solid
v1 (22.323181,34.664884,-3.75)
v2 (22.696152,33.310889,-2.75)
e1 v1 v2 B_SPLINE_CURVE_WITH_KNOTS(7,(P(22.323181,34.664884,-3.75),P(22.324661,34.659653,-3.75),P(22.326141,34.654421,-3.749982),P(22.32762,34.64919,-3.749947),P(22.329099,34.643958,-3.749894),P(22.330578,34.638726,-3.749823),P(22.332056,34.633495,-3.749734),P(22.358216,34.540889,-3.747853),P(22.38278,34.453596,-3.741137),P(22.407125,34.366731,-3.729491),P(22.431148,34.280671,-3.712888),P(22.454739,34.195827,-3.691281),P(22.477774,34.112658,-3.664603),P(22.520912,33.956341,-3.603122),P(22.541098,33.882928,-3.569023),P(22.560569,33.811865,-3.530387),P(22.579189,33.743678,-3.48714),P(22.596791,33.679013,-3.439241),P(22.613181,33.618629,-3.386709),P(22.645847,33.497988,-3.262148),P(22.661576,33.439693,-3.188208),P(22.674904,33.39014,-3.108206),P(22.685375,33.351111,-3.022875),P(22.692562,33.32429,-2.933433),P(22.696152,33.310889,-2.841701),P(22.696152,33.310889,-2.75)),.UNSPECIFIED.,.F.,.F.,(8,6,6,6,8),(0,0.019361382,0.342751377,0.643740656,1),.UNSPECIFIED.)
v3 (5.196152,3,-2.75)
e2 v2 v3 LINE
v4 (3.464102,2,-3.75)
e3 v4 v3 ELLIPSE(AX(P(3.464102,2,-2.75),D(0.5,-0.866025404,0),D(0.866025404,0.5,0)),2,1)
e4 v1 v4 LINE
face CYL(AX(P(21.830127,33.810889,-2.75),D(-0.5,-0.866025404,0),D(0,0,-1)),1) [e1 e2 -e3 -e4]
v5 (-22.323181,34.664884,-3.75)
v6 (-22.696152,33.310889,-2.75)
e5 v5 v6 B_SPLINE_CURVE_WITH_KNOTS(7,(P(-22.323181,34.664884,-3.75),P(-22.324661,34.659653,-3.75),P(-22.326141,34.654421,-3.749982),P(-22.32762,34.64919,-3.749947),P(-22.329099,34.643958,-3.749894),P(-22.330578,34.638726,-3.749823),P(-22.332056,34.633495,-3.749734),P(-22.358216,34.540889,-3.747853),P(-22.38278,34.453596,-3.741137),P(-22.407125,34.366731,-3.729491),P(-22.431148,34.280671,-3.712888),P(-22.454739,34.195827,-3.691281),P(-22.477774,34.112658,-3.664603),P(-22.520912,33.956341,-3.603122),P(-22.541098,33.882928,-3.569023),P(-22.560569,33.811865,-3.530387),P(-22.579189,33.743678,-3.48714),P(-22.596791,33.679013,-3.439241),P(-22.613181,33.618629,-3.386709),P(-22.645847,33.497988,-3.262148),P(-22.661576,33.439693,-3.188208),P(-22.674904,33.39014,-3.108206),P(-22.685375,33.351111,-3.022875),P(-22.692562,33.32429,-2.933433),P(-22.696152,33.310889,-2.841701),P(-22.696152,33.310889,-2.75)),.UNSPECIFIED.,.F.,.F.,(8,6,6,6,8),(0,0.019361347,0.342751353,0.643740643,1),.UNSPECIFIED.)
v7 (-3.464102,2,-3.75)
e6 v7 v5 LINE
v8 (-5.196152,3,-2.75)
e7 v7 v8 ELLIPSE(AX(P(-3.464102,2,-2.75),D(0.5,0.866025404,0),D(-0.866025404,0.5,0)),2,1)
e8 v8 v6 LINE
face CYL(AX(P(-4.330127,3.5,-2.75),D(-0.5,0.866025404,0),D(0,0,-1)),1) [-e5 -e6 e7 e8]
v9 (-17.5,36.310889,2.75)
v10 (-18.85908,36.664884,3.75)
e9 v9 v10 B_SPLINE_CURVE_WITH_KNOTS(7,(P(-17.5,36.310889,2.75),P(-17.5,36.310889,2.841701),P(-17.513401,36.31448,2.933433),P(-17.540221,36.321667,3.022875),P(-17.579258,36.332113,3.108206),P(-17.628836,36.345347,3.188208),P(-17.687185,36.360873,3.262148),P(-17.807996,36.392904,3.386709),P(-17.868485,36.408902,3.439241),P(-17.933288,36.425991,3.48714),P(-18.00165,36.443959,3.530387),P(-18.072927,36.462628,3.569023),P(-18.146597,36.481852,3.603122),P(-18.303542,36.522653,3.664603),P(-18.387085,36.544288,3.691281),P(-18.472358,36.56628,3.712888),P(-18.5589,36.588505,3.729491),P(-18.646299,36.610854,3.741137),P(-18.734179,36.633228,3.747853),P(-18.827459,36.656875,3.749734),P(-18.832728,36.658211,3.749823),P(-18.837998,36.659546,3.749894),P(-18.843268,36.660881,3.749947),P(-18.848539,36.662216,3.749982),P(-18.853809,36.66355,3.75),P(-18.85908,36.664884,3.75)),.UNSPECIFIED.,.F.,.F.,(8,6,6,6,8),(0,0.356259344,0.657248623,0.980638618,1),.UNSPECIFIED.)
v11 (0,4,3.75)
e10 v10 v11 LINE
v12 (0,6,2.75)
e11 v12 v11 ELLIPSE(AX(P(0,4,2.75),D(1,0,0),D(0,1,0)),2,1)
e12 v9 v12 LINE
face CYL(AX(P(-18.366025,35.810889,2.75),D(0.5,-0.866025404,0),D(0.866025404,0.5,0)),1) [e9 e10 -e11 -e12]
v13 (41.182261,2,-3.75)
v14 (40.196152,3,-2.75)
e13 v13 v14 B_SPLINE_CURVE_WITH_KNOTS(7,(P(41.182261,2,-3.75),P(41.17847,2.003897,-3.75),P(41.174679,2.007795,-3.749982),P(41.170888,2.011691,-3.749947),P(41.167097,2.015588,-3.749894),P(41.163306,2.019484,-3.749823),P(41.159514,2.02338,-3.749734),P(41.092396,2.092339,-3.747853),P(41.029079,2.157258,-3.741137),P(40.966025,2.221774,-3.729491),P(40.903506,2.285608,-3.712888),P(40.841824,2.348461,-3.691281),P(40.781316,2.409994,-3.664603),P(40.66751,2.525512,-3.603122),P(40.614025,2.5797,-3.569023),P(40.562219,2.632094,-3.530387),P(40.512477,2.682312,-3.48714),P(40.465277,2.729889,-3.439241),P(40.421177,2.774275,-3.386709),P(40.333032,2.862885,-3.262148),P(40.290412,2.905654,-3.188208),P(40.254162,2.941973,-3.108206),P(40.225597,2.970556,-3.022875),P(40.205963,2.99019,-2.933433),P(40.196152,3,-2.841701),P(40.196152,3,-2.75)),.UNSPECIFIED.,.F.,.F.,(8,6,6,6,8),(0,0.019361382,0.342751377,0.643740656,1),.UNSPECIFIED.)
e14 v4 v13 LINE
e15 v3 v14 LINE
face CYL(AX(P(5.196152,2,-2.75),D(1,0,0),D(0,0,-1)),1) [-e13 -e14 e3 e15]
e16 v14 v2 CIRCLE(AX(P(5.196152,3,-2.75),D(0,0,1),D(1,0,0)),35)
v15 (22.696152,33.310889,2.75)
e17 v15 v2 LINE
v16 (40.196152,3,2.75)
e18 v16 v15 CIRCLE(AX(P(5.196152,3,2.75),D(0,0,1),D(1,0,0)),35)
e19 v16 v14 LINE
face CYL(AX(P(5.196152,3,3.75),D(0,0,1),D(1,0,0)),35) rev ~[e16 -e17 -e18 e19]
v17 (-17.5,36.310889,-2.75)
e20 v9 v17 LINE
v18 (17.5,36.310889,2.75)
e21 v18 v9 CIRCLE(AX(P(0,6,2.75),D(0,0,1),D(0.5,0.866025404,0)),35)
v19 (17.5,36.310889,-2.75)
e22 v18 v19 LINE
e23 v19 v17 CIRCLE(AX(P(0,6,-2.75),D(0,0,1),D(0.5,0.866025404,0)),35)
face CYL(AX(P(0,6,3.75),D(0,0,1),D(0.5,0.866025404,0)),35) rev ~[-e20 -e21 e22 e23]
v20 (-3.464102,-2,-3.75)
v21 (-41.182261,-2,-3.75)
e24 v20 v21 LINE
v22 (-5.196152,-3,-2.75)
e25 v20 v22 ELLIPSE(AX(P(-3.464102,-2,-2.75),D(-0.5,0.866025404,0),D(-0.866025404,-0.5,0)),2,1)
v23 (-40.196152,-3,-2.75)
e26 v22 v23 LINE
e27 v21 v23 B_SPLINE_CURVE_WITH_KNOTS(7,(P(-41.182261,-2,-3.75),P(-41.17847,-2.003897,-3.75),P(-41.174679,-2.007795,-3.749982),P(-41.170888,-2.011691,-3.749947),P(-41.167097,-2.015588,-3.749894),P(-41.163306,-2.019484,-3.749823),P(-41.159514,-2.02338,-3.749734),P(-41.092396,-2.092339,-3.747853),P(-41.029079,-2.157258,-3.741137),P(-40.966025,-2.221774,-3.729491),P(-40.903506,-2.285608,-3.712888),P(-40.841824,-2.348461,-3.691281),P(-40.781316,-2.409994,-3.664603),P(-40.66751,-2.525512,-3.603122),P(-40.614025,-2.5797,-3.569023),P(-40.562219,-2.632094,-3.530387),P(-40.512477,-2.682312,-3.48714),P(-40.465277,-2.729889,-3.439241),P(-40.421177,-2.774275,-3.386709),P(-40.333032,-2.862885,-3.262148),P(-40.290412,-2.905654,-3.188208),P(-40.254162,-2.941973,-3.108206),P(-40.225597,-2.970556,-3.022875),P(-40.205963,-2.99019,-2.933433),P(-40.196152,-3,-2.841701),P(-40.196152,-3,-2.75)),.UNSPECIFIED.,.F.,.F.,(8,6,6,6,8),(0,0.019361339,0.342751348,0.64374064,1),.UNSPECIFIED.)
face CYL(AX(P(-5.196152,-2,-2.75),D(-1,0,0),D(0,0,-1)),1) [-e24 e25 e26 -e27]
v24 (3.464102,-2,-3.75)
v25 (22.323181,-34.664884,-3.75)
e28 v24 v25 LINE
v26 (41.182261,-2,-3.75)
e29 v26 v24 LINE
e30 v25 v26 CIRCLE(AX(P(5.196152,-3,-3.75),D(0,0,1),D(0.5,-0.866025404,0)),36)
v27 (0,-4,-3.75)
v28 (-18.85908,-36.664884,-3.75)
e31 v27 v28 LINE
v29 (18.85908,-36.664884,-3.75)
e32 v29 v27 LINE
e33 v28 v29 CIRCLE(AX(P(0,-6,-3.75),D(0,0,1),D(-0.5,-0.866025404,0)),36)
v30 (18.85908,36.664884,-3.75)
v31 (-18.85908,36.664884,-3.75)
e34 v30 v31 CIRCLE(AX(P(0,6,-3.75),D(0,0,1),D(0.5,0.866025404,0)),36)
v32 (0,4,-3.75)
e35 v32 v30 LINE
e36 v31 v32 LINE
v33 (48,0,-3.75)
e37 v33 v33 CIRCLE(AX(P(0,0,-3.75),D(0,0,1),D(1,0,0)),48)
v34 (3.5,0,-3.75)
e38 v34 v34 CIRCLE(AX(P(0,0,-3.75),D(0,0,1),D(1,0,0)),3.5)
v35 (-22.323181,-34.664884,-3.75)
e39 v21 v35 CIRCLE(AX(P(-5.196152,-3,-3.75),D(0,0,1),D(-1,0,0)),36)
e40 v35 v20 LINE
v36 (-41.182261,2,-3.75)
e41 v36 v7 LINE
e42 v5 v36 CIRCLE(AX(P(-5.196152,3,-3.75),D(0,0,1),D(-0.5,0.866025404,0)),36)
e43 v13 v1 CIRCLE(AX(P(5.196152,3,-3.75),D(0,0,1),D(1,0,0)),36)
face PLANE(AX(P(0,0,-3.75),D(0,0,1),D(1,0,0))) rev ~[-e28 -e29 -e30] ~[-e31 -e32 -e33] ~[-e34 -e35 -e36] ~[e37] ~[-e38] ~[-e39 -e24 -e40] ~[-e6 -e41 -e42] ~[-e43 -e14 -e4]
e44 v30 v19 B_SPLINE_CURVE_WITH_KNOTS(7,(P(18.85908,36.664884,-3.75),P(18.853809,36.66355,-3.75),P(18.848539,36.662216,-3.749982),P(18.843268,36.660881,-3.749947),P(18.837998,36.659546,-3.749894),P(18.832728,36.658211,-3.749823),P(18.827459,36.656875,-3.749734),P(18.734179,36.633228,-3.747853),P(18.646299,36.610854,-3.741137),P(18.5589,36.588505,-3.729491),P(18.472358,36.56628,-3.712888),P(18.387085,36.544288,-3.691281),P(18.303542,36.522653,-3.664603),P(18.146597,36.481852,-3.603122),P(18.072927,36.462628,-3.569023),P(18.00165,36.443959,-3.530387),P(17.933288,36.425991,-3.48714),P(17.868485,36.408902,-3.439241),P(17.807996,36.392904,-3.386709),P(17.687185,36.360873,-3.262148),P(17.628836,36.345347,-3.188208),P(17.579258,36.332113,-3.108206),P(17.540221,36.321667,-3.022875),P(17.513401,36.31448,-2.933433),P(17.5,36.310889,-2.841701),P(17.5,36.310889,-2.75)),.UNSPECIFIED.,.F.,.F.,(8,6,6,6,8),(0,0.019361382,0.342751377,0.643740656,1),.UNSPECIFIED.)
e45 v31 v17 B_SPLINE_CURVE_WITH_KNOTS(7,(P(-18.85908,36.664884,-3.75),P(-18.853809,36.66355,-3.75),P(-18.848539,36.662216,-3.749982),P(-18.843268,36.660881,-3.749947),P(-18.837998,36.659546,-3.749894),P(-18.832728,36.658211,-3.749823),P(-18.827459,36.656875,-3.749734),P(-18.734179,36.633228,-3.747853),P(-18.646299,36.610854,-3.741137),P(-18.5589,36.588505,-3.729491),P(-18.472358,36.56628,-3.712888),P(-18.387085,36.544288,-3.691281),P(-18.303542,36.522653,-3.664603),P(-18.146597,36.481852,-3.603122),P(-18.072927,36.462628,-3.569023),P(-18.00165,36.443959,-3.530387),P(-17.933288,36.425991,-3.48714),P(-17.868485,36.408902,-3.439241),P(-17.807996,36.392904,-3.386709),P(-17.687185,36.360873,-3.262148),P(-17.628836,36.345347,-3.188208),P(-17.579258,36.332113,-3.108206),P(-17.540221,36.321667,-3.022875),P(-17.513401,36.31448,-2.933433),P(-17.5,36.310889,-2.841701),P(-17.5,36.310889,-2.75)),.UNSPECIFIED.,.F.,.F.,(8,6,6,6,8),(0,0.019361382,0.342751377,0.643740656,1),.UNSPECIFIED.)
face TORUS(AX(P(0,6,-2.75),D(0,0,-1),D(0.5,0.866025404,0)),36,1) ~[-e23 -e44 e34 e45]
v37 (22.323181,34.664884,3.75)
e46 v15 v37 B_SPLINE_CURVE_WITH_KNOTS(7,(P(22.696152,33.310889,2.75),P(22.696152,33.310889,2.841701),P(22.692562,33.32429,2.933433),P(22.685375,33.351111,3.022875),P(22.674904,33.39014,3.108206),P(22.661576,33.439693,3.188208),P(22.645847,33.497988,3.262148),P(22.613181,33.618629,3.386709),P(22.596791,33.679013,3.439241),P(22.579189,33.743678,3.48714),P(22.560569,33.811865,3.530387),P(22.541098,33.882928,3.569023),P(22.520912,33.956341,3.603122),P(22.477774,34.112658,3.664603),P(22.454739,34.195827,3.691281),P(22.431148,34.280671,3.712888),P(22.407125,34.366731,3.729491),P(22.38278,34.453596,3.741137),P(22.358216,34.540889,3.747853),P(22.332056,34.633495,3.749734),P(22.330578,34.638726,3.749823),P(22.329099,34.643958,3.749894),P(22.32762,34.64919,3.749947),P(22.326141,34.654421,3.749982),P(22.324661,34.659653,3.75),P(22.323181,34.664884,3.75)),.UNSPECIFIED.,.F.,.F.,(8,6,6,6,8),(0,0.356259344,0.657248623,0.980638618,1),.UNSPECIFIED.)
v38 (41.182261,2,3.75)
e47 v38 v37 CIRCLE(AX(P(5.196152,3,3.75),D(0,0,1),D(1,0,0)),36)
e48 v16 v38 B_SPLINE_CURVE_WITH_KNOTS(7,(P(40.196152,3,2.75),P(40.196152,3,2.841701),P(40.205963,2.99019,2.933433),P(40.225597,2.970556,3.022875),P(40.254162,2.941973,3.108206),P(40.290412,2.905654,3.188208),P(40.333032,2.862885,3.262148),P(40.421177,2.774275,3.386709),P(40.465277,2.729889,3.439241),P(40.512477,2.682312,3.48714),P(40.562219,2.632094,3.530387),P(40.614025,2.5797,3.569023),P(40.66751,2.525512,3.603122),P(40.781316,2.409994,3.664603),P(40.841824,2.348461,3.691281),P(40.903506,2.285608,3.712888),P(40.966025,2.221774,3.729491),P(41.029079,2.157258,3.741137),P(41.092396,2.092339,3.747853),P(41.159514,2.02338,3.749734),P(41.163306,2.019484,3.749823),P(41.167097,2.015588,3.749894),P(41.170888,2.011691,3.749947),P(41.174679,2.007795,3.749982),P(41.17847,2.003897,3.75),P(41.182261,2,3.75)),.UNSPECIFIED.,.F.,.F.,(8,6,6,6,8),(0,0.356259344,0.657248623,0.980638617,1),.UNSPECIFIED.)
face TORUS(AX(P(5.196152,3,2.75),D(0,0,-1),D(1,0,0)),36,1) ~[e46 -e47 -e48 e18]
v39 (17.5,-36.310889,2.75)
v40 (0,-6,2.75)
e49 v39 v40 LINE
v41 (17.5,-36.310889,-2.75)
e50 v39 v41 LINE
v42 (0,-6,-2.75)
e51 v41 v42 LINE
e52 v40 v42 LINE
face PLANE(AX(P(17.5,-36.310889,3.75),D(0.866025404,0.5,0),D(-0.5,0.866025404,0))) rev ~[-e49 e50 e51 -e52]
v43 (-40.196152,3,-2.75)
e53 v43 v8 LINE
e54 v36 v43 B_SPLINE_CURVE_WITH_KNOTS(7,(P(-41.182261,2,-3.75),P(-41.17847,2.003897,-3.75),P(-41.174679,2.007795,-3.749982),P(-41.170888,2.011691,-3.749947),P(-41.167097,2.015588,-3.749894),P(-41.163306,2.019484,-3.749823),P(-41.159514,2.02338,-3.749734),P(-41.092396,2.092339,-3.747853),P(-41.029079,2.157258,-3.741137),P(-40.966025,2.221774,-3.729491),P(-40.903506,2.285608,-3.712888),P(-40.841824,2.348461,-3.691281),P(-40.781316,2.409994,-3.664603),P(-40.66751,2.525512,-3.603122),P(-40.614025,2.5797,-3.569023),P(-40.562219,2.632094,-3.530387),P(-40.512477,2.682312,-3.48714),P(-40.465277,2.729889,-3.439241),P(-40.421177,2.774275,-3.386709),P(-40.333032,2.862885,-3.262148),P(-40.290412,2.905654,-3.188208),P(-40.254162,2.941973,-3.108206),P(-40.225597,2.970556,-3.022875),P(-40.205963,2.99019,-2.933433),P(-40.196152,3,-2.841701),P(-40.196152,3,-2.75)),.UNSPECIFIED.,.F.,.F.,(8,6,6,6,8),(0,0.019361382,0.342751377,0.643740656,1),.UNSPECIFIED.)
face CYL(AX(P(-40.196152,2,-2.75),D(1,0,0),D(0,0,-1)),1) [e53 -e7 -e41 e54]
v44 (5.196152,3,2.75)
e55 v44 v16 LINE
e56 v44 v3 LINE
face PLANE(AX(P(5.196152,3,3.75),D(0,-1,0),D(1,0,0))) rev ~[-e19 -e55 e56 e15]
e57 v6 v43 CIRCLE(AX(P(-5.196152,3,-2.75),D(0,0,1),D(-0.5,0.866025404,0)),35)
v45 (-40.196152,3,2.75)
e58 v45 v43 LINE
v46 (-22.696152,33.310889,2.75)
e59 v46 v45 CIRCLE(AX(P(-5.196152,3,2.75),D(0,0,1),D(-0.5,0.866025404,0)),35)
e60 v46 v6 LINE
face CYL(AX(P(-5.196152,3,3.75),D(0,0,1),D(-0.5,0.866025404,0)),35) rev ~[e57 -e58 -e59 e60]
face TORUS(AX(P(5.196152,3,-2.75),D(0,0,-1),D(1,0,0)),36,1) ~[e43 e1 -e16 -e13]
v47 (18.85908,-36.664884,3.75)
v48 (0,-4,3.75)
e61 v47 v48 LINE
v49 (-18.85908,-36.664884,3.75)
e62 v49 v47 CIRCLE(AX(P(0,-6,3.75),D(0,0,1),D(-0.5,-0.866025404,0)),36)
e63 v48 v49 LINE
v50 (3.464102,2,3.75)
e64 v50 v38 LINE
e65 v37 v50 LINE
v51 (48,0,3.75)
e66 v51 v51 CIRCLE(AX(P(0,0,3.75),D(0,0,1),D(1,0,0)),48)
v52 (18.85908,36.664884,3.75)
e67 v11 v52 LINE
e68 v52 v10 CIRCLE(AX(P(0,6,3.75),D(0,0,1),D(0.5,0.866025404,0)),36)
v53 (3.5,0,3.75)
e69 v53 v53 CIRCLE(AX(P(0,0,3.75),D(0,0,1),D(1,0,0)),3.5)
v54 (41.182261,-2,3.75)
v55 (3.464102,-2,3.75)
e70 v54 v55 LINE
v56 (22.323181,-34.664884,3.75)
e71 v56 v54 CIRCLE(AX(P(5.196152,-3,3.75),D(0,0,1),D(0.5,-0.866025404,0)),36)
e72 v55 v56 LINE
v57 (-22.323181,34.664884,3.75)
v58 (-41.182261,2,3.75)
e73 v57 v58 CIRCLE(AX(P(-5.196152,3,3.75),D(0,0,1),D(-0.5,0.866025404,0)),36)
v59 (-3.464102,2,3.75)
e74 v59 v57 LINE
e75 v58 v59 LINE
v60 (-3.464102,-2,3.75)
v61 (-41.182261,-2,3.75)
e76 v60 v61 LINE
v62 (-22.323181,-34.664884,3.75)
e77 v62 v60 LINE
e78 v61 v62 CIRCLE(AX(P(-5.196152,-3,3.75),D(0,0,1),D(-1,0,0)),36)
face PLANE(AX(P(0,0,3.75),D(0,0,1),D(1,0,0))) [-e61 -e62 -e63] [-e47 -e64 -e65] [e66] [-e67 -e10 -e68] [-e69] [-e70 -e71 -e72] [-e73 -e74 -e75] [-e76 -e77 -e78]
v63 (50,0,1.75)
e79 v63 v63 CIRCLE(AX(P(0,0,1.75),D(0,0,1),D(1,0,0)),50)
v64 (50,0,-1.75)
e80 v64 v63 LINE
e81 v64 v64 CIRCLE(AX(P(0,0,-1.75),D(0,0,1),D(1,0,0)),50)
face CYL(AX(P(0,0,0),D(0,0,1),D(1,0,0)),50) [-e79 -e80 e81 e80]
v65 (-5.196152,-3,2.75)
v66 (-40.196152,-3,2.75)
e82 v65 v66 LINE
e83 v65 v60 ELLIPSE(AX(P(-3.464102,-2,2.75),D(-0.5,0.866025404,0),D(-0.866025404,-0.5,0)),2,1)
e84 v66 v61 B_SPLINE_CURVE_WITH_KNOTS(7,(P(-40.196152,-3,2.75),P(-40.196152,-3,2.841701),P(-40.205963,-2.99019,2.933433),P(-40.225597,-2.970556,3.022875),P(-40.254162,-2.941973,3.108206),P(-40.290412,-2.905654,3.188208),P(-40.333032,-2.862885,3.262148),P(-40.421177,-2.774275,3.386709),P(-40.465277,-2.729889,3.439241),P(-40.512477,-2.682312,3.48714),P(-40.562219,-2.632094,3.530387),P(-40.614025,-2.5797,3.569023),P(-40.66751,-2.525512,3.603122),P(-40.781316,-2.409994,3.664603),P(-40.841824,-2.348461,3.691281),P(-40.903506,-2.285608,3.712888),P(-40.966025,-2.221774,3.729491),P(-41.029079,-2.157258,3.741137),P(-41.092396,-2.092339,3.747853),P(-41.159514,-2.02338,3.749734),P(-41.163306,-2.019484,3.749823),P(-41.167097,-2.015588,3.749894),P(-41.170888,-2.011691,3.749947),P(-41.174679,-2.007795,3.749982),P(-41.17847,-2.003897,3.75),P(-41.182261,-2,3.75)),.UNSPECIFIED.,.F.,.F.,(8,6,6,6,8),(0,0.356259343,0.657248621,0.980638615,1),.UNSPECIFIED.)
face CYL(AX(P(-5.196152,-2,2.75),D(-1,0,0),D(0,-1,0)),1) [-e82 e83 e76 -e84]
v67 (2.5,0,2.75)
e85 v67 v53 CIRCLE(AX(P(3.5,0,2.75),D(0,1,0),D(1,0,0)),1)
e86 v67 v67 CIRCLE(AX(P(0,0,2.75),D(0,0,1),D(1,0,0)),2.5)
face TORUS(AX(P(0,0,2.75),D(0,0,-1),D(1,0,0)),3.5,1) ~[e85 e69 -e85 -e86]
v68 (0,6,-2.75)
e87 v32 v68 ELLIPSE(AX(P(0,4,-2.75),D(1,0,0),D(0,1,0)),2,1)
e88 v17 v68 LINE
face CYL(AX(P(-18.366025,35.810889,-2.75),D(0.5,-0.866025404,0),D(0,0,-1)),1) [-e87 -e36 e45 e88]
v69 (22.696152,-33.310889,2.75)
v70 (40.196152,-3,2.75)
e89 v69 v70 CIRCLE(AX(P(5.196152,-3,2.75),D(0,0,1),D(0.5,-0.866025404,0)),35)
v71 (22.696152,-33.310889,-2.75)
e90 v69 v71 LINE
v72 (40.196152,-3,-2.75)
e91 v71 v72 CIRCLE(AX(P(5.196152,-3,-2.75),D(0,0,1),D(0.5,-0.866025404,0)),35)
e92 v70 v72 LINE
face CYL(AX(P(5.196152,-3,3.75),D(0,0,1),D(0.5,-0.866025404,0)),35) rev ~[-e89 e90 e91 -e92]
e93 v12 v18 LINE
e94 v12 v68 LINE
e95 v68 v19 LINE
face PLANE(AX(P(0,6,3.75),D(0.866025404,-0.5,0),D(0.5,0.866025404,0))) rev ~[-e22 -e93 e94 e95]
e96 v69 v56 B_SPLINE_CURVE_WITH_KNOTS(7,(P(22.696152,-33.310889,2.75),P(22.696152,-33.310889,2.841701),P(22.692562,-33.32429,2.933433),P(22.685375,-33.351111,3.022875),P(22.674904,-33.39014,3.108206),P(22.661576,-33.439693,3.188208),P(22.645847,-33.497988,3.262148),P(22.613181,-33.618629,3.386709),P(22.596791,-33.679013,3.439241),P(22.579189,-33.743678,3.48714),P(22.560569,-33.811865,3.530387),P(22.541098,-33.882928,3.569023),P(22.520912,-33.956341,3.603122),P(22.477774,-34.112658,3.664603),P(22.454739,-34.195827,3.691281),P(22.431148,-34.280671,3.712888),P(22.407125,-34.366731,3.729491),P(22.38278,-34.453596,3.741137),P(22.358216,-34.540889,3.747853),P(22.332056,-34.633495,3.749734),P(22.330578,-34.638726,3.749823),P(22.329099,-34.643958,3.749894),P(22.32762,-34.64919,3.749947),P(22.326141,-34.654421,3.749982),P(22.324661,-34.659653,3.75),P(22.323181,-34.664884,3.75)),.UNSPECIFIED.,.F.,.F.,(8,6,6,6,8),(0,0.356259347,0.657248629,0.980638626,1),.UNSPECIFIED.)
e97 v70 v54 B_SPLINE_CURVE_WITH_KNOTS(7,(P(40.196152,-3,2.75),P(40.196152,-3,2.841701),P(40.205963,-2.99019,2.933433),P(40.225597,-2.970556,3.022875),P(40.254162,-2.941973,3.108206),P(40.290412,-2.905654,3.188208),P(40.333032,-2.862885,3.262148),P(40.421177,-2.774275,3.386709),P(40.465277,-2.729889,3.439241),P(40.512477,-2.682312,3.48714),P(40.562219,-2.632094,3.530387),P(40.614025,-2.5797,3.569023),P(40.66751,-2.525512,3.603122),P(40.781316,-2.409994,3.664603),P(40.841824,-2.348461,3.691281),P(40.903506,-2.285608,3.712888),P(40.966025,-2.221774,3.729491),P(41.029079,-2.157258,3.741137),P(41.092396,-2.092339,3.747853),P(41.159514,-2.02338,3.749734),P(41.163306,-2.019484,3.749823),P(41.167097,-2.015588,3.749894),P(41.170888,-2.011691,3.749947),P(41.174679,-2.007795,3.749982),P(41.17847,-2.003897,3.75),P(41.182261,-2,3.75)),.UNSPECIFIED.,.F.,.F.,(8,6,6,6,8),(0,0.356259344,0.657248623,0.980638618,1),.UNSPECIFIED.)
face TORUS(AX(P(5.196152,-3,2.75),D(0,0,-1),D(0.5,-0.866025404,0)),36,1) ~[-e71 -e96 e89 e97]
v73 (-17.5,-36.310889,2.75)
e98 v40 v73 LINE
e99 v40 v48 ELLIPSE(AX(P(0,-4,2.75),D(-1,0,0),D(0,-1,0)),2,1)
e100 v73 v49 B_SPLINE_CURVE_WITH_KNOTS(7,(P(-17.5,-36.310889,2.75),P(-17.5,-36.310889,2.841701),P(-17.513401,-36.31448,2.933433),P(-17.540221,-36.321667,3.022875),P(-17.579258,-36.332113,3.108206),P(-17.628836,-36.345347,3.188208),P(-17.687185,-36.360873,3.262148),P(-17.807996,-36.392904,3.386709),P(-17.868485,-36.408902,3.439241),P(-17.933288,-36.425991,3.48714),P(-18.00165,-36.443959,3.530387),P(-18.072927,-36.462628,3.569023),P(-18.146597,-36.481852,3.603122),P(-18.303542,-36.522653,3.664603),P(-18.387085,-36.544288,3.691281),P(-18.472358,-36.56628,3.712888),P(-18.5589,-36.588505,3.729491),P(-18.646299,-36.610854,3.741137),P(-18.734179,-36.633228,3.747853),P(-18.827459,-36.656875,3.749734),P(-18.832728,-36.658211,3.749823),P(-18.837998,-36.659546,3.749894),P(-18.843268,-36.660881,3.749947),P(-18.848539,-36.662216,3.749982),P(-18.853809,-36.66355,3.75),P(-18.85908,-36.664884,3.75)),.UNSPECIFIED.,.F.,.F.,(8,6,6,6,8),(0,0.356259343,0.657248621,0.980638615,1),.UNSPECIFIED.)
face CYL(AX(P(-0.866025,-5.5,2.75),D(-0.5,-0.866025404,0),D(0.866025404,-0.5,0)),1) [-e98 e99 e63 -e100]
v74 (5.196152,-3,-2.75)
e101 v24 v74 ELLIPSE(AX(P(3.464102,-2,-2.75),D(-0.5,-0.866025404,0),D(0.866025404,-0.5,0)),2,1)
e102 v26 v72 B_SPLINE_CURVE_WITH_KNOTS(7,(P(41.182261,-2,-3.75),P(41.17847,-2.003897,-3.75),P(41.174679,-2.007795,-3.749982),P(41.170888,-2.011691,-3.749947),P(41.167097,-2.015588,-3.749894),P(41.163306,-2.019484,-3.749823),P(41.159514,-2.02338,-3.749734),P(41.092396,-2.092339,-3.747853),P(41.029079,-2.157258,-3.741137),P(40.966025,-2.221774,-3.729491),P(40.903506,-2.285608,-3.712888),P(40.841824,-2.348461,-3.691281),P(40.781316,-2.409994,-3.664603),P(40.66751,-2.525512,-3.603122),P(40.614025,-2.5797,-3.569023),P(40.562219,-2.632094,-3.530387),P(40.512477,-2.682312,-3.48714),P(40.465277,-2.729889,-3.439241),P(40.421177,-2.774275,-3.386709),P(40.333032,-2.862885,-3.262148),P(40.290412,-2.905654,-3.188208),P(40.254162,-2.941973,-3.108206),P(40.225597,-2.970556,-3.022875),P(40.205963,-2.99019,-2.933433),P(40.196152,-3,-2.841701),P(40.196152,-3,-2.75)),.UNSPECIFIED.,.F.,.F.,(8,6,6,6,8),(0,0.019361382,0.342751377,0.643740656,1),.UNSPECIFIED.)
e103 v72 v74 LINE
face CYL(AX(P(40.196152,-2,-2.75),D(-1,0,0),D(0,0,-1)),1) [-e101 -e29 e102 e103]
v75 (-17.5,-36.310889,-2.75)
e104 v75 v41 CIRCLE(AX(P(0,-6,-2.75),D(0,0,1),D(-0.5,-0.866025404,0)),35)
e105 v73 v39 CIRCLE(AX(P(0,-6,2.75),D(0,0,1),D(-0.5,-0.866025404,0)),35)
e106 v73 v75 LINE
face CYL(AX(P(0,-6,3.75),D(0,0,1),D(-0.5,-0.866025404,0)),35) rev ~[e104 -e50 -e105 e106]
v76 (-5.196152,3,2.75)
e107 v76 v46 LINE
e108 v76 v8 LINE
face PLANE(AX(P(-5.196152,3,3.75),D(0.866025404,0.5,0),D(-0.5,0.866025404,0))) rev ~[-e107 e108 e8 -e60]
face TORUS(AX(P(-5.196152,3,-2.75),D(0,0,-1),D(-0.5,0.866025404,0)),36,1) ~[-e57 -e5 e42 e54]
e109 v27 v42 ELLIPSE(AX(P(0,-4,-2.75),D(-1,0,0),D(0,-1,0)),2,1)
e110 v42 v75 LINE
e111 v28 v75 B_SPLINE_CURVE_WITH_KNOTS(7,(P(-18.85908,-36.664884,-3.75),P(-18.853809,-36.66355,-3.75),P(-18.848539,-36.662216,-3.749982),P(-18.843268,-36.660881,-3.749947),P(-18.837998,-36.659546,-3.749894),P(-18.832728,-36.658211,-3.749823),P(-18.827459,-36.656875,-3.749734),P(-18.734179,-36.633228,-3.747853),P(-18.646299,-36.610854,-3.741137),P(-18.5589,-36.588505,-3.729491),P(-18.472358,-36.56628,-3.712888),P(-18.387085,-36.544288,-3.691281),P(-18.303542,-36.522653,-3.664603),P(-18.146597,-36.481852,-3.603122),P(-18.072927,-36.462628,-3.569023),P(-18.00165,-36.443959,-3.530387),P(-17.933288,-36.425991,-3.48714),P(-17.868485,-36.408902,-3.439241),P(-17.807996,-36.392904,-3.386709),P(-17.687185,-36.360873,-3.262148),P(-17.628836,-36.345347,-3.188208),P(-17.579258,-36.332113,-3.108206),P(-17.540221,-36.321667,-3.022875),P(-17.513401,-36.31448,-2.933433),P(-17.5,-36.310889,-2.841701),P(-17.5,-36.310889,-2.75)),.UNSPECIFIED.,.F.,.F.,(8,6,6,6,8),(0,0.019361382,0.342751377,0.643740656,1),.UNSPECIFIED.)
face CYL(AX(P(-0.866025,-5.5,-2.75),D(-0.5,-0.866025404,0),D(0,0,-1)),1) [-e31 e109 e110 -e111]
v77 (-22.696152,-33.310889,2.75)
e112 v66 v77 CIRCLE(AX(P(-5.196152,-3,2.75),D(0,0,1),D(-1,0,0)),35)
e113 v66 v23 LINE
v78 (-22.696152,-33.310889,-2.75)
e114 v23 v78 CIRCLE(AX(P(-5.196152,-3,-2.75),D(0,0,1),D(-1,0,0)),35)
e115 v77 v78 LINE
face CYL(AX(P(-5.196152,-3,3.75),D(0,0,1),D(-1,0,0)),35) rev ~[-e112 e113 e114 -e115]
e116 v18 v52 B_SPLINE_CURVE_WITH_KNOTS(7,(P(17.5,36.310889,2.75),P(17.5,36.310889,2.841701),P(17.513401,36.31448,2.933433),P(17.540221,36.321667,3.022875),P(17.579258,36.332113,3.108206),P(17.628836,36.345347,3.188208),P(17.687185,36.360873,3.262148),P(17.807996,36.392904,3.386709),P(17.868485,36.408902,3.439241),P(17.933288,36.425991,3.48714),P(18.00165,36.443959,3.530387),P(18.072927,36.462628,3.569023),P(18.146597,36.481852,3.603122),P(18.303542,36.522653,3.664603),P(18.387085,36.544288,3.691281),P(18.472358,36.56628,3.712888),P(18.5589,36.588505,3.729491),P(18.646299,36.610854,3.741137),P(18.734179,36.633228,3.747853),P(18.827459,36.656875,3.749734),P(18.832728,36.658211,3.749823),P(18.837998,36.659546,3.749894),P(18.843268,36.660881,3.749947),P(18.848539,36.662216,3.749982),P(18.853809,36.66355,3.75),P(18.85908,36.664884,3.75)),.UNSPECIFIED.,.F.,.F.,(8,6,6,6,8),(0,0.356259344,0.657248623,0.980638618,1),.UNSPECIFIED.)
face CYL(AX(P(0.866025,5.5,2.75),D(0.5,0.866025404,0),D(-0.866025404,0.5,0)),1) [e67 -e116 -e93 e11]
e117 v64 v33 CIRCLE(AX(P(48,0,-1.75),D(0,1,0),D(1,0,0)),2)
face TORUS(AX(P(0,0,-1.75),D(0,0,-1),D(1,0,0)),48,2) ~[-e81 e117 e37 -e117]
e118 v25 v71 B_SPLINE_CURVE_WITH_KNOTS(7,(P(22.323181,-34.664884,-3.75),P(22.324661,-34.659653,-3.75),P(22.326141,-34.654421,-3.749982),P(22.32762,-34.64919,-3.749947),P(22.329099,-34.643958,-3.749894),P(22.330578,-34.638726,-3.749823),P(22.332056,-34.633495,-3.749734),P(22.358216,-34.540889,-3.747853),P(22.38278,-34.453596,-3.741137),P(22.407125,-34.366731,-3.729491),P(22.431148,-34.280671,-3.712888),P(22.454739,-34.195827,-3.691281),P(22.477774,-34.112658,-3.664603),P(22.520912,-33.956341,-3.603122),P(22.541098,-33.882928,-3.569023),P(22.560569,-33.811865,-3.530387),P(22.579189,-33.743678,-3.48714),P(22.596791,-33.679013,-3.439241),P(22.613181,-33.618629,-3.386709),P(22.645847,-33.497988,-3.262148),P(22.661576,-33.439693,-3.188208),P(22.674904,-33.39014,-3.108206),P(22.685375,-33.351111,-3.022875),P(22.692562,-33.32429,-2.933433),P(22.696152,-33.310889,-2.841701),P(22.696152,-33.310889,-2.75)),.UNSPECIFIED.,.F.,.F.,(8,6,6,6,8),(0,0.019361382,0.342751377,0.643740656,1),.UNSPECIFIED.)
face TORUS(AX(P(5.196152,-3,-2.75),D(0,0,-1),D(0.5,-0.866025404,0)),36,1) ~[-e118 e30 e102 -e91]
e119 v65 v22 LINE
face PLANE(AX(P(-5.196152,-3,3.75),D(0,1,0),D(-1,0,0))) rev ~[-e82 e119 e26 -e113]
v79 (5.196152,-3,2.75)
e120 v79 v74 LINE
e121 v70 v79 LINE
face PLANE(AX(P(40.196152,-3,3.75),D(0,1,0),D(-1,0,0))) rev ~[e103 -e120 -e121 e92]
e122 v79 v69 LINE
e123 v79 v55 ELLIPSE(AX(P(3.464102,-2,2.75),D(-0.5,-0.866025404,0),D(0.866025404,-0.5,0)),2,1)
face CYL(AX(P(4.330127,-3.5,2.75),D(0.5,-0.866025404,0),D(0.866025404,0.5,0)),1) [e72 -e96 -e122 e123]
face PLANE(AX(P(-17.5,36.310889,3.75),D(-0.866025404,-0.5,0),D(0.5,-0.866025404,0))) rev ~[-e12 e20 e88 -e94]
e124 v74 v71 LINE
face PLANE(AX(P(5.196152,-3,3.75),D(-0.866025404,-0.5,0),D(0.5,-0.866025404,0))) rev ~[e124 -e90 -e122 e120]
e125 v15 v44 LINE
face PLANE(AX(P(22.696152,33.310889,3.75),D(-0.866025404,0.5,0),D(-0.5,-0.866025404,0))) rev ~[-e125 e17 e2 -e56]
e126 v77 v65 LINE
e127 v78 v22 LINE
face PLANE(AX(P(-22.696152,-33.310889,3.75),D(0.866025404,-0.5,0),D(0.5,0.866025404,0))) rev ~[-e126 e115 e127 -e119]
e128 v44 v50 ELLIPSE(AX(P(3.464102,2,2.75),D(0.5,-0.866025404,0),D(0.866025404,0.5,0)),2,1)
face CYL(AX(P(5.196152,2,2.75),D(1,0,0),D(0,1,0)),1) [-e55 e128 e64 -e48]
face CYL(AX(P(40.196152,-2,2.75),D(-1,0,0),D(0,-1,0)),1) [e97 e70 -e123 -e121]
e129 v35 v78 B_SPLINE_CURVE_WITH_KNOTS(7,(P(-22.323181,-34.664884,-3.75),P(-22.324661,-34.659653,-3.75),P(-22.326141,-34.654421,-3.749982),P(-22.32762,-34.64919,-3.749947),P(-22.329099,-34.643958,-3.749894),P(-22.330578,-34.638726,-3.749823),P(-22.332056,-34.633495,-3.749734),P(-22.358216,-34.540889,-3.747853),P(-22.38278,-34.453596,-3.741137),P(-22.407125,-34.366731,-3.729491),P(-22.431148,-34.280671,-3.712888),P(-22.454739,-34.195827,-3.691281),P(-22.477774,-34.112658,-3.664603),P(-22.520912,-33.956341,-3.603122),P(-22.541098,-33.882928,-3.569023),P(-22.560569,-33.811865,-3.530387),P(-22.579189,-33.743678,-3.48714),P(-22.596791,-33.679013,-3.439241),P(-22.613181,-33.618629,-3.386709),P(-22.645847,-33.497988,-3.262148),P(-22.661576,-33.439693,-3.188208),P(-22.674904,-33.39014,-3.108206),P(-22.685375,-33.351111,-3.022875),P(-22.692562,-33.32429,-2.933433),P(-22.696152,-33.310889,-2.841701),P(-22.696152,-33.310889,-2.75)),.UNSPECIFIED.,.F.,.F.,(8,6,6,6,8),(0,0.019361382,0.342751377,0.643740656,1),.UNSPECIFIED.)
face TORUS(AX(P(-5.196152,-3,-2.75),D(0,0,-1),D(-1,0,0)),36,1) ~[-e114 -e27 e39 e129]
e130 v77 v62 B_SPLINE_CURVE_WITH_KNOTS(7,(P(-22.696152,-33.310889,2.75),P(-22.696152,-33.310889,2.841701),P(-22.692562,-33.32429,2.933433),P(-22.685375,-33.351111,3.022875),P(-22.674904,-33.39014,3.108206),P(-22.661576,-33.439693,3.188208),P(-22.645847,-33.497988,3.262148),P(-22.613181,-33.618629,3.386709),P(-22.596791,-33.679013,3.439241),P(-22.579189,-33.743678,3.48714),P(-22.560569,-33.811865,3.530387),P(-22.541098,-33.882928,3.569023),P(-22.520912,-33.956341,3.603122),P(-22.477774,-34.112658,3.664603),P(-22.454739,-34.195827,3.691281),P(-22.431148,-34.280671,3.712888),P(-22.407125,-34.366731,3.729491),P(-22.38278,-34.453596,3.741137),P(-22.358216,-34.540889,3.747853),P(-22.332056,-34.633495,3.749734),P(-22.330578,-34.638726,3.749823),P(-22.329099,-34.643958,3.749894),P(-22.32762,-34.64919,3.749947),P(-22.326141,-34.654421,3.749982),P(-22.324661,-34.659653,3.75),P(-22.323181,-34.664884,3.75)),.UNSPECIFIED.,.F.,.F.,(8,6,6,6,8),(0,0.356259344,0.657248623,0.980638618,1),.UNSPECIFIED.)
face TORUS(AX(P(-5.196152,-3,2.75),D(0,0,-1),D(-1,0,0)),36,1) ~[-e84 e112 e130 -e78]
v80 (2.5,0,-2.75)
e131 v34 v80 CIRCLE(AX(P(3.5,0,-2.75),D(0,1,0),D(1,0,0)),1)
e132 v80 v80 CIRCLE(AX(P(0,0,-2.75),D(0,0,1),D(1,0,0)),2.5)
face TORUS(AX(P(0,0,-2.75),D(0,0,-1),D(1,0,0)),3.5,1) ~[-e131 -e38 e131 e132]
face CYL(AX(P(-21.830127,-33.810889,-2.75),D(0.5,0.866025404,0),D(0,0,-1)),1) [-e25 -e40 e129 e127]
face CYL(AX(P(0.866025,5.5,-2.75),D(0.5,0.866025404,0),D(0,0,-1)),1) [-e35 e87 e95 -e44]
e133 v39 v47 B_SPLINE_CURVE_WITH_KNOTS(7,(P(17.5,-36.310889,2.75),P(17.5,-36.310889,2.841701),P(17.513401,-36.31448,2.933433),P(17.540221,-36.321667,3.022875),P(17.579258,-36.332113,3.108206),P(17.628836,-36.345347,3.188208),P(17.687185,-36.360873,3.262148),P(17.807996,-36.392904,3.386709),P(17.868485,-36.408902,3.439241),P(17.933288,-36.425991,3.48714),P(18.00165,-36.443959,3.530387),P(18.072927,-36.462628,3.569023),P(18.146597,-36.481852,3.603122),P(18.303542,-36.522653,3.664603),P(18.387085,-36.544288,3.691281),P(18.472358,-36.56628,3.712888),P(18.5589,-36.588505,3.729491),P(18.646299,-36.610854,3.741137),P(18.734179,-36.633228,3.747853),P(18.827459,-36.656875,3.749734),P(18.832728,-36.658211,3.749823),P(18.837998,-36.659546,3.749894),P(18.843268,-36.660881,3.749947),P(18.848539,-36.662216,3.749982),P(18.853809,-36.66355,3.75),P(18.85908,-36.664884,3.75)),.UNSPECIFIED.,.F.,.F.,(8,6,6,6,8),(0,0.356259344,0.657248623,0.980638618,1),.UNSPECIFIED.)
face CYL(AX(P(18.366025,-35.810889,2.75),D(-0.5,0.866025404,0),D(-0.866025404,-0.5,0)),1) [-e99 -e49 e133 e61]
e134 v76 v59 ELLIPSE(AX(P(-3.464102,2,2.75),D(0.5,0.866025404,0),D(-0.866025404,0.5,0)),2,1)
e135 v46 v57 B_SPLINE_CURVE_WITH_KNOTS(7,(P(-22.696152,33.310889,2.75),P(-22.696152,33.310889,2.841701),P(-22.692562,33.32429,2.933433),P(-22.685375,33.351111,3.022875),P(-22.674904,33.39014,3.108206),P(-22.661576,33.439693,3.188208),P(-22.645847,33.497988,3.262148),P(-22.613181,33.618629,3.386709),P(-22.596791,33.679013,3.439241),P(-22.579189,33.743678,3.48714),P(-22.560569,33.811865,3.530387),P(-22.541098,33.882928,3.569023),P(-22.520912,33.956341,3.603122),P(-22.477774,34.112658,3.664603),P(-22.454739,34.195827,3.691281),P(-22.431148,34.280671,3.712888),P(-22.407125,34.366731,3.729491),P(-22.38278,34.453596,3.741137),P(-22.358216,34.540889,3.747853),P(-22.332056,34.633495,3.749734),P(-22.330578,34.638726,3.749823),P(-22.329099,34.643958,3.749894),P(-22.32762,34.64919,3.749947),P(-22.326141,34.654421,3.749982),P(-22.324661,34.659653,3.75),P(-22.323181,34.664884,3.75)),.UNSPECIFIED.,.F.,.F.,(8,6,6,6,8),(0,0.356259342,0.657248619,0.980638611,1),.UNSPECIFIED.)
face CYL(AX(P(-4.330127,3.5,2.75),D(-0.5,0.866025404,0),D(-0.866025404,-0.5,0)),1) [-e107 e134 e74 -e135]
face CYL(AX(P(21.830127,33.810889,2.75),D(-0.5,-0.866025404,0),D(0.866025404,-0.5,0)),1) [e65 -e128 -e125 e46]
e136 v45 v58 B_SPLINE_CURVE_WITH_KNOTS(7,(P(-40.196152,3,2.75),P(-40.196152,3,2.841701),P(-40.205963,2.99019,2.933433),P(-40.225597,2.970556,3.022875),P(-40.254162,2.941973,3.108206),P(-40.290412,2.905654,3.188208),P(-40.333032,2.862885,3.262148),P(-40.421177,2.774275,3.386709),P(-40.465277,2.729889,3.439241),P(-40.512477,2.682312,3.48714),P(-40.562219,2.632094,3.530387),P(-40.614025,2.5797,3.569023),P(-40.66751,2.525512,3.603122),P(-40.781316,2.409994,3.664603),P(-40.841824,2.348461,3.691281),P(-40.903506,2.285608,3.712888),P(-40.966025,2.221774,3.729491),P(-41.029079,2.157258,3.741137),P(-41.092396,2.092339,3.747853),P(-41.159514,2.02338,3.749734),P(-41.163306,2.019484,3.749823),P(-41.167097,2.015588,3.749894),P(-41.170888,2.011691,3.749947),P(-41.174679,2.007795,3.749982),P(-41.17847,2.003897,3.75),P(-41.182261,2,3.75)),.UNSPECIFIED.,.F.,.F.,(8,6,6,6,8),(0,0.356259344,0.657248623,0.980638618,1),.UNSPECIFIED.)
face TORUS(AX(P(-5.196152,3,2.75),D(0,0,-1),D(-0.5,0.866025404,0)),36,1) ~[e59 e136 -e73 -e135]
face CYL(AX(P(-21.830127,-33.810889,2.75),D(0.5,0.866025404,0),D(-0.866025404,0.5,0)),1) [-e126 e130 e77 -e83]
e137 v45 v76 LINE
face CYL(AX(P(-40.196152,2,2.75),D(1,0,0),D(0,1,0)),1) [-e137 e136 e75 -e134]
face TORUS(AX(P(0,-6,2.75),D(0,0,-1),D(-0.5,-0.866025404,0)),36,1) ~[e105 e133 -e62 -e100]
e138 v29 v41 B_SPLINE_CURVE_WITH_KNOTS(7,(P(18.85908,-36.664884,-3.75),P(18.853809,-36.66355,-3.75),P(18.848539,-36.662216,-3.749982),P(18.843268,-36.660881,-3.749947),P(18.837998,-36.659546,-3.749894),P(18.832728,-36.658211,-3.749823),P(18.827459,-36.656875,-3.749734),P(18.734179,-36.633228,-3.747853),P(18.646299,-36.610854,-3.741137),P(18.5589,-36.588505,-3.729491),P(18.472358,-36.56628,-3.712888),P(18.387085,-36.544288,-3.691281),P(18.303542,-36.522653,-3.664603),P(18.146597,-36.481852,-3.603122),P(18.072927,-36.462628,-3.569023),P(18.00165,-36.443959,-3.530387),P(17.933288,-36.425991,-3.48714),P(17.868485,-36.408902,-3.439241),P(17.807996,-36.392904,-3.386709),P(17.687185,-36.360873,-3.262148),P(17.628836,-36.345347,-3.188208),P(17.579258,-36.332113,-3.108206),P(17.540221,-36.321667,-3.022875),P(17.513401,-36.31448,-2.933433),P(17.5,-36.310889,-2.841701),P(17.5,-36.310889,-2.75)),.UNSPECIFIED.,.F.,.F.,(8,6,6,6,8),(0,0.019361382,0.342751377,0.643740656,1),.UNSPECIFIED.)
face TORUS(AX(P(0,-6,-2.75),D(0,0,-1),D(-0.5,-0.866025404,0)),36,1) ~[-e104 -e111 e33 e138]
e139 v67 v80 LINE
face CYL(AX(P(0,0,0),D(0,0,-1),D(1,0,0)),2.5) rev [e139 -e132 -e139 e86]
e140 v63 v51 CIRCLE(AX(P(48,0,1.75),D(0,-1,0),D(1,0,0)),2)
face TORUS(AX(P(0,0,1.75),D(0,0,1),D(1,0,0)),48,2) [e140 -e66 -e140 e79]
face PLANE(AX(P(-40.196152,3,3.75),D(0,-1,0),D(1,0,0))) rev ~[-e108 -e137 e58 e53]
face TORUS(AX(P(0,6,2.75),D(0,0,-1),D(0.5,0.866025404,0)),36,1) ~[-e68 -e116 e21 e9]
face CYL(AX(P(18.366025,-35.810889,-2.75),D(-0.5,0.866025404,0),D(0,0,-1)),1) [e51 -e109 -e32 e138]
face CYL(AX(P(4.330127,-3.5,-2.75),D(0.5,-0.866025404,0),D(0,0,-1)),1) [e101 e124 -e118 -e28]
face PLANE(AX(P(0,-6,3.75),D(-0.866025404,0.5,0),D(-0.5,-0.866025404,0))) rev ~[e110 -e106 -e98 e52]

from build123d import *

# Parameters (mm, degrees)
SKETCH1_R           = 50
SKETCH1_R_2         = 2.5
BOSS_EXTRUDE1_DEPTH = 3.75
FILLET1_R           = 2
CUT_EXTRUDE1_DEPTH  = 72.107313267
CIRPATTERN1_COUNT   = 6
FILLET3_R           = 1
FILLET4_R           = 1


with BuildPart() as part:
    # Sketch1 → Boss-Extrude1 (new, symmetric)
    with BuildSketch(Plane.XY):
        Circle(SKETCH1_R)
        Circle(SKETCH1_R_2, mode=Mode.SUBTRACT)
    extrude(amount=BOSS_EXTRUDE1_DEPTH, both=True)

    # Fillet1
    fillet1_edges = [part.edges().sort_by_distance(p)[0] for p in [
        (-50, 0, -3.75),
        (-50, 0, 3.75),
    ]]
    fillet(fillet1_edges, radius=FILLET1_R)

    # Sketch2 → Cut-Extrude1 (cut, through all)
    with BuildSketch(Plane.XY.offset(3.75)):
        with BuildLine():
            Line((-17.5, 36.310889132), (0, 6))
            Line((0, 6), (17.5, 36.310889132))
            ThreePointArc((17.5, 36.310889132), (0, 41), (-17.5, 36.310889132))
        make_face()
    cut_extrude1 = extrude(amount=-CUT_EXTRUDE1_DEPTH, mode=Mode.SUBTRACT)

    # CirPattern1: Cut-Extrude1 ×6 about axis
    cirpattern1_axis = Axis((0, 0, 0), (0, 0, 1))
    for i in range(1, CIRPATTERN1_COUNT):
        add(cut_extrude1.rotate(cirpattern1_axis, i * 360 / CIRPATTERN1_COUNT), mode=Mode.SUBTRACT)

    # Fillet3
    fillet3_edges = [part.edges().sort_by_distance(p)[0] for p in [
        (8.75, 21.155444566, -3.75),
        (-8.75, 21.155444566, -3.75),
        (0, 41, -3.75),
        (-8.75, -21.155444566, -3.75),
        (8.75, -21.155444566, -3.75),
        (0, -41, -3.75),
        (-2.5, 0, -3.75),
        (-22.696152423, -3, -3.75),
        (-13.946152423, -18.155444566, -3.75),
        (-35.507041555, -20.5, -3.75),
        (13.946152423, -18.155444566, -3.75),
        (22.696152423, -3, -3.75),
        (35.507041555, -20.5, -3.75),
        (22.696152423, 3, -3.75),
        (13.946152423, 18.155444566, -3.75),
        (35.507041555, 20.5, -3.75),
        (-13.946152423, 18.155444566, -3.75),
        (-22.696152423, 3, -3.75),
        (-35.507041555, 20.5, -3.75),
    ]]
    fillet(fillet3_edges, radius=FILLET3_R)

    # Fillet4
    fillet4_edges = [part.edges().sort_by_distance(p)[0] for p in [
        (8.75, 21.155444566, 3.75),
        (0, 41, 3.75),
        (-8.75, 21.155444566, 3.75),
        (-8.75, -21.155444566, 3.75),
        (0, -41, 3.75),
        (8.75, -21.155444566, 3.75),
        (-22.696152423, -3, 3.75),
        (-35.507041555, -20.5, 3.75),
        (-13.946152423, -18.155444566, 3.75),
        (-2.5, 0, 3.75),
        (13.946152423, -18.155444566, 3.75),
        (35.507041555, -20.5, 3.75),
        (22.696152423, -3, 3.75),
        (22.696152423, 3, 3.75),
        (35.507041555, 20.5, 3.75),
        (13.946152423, 18.155444566, 3.75),
        (-13.946152423, 18.155444566, 3.75),
        (-35.507041555, 20.5, 3.75),
        (-22.696152423, 3, 3.75),
    ]]
    fillet(fillet4_edges, radius=FILLET4_R)


solid = part.part
